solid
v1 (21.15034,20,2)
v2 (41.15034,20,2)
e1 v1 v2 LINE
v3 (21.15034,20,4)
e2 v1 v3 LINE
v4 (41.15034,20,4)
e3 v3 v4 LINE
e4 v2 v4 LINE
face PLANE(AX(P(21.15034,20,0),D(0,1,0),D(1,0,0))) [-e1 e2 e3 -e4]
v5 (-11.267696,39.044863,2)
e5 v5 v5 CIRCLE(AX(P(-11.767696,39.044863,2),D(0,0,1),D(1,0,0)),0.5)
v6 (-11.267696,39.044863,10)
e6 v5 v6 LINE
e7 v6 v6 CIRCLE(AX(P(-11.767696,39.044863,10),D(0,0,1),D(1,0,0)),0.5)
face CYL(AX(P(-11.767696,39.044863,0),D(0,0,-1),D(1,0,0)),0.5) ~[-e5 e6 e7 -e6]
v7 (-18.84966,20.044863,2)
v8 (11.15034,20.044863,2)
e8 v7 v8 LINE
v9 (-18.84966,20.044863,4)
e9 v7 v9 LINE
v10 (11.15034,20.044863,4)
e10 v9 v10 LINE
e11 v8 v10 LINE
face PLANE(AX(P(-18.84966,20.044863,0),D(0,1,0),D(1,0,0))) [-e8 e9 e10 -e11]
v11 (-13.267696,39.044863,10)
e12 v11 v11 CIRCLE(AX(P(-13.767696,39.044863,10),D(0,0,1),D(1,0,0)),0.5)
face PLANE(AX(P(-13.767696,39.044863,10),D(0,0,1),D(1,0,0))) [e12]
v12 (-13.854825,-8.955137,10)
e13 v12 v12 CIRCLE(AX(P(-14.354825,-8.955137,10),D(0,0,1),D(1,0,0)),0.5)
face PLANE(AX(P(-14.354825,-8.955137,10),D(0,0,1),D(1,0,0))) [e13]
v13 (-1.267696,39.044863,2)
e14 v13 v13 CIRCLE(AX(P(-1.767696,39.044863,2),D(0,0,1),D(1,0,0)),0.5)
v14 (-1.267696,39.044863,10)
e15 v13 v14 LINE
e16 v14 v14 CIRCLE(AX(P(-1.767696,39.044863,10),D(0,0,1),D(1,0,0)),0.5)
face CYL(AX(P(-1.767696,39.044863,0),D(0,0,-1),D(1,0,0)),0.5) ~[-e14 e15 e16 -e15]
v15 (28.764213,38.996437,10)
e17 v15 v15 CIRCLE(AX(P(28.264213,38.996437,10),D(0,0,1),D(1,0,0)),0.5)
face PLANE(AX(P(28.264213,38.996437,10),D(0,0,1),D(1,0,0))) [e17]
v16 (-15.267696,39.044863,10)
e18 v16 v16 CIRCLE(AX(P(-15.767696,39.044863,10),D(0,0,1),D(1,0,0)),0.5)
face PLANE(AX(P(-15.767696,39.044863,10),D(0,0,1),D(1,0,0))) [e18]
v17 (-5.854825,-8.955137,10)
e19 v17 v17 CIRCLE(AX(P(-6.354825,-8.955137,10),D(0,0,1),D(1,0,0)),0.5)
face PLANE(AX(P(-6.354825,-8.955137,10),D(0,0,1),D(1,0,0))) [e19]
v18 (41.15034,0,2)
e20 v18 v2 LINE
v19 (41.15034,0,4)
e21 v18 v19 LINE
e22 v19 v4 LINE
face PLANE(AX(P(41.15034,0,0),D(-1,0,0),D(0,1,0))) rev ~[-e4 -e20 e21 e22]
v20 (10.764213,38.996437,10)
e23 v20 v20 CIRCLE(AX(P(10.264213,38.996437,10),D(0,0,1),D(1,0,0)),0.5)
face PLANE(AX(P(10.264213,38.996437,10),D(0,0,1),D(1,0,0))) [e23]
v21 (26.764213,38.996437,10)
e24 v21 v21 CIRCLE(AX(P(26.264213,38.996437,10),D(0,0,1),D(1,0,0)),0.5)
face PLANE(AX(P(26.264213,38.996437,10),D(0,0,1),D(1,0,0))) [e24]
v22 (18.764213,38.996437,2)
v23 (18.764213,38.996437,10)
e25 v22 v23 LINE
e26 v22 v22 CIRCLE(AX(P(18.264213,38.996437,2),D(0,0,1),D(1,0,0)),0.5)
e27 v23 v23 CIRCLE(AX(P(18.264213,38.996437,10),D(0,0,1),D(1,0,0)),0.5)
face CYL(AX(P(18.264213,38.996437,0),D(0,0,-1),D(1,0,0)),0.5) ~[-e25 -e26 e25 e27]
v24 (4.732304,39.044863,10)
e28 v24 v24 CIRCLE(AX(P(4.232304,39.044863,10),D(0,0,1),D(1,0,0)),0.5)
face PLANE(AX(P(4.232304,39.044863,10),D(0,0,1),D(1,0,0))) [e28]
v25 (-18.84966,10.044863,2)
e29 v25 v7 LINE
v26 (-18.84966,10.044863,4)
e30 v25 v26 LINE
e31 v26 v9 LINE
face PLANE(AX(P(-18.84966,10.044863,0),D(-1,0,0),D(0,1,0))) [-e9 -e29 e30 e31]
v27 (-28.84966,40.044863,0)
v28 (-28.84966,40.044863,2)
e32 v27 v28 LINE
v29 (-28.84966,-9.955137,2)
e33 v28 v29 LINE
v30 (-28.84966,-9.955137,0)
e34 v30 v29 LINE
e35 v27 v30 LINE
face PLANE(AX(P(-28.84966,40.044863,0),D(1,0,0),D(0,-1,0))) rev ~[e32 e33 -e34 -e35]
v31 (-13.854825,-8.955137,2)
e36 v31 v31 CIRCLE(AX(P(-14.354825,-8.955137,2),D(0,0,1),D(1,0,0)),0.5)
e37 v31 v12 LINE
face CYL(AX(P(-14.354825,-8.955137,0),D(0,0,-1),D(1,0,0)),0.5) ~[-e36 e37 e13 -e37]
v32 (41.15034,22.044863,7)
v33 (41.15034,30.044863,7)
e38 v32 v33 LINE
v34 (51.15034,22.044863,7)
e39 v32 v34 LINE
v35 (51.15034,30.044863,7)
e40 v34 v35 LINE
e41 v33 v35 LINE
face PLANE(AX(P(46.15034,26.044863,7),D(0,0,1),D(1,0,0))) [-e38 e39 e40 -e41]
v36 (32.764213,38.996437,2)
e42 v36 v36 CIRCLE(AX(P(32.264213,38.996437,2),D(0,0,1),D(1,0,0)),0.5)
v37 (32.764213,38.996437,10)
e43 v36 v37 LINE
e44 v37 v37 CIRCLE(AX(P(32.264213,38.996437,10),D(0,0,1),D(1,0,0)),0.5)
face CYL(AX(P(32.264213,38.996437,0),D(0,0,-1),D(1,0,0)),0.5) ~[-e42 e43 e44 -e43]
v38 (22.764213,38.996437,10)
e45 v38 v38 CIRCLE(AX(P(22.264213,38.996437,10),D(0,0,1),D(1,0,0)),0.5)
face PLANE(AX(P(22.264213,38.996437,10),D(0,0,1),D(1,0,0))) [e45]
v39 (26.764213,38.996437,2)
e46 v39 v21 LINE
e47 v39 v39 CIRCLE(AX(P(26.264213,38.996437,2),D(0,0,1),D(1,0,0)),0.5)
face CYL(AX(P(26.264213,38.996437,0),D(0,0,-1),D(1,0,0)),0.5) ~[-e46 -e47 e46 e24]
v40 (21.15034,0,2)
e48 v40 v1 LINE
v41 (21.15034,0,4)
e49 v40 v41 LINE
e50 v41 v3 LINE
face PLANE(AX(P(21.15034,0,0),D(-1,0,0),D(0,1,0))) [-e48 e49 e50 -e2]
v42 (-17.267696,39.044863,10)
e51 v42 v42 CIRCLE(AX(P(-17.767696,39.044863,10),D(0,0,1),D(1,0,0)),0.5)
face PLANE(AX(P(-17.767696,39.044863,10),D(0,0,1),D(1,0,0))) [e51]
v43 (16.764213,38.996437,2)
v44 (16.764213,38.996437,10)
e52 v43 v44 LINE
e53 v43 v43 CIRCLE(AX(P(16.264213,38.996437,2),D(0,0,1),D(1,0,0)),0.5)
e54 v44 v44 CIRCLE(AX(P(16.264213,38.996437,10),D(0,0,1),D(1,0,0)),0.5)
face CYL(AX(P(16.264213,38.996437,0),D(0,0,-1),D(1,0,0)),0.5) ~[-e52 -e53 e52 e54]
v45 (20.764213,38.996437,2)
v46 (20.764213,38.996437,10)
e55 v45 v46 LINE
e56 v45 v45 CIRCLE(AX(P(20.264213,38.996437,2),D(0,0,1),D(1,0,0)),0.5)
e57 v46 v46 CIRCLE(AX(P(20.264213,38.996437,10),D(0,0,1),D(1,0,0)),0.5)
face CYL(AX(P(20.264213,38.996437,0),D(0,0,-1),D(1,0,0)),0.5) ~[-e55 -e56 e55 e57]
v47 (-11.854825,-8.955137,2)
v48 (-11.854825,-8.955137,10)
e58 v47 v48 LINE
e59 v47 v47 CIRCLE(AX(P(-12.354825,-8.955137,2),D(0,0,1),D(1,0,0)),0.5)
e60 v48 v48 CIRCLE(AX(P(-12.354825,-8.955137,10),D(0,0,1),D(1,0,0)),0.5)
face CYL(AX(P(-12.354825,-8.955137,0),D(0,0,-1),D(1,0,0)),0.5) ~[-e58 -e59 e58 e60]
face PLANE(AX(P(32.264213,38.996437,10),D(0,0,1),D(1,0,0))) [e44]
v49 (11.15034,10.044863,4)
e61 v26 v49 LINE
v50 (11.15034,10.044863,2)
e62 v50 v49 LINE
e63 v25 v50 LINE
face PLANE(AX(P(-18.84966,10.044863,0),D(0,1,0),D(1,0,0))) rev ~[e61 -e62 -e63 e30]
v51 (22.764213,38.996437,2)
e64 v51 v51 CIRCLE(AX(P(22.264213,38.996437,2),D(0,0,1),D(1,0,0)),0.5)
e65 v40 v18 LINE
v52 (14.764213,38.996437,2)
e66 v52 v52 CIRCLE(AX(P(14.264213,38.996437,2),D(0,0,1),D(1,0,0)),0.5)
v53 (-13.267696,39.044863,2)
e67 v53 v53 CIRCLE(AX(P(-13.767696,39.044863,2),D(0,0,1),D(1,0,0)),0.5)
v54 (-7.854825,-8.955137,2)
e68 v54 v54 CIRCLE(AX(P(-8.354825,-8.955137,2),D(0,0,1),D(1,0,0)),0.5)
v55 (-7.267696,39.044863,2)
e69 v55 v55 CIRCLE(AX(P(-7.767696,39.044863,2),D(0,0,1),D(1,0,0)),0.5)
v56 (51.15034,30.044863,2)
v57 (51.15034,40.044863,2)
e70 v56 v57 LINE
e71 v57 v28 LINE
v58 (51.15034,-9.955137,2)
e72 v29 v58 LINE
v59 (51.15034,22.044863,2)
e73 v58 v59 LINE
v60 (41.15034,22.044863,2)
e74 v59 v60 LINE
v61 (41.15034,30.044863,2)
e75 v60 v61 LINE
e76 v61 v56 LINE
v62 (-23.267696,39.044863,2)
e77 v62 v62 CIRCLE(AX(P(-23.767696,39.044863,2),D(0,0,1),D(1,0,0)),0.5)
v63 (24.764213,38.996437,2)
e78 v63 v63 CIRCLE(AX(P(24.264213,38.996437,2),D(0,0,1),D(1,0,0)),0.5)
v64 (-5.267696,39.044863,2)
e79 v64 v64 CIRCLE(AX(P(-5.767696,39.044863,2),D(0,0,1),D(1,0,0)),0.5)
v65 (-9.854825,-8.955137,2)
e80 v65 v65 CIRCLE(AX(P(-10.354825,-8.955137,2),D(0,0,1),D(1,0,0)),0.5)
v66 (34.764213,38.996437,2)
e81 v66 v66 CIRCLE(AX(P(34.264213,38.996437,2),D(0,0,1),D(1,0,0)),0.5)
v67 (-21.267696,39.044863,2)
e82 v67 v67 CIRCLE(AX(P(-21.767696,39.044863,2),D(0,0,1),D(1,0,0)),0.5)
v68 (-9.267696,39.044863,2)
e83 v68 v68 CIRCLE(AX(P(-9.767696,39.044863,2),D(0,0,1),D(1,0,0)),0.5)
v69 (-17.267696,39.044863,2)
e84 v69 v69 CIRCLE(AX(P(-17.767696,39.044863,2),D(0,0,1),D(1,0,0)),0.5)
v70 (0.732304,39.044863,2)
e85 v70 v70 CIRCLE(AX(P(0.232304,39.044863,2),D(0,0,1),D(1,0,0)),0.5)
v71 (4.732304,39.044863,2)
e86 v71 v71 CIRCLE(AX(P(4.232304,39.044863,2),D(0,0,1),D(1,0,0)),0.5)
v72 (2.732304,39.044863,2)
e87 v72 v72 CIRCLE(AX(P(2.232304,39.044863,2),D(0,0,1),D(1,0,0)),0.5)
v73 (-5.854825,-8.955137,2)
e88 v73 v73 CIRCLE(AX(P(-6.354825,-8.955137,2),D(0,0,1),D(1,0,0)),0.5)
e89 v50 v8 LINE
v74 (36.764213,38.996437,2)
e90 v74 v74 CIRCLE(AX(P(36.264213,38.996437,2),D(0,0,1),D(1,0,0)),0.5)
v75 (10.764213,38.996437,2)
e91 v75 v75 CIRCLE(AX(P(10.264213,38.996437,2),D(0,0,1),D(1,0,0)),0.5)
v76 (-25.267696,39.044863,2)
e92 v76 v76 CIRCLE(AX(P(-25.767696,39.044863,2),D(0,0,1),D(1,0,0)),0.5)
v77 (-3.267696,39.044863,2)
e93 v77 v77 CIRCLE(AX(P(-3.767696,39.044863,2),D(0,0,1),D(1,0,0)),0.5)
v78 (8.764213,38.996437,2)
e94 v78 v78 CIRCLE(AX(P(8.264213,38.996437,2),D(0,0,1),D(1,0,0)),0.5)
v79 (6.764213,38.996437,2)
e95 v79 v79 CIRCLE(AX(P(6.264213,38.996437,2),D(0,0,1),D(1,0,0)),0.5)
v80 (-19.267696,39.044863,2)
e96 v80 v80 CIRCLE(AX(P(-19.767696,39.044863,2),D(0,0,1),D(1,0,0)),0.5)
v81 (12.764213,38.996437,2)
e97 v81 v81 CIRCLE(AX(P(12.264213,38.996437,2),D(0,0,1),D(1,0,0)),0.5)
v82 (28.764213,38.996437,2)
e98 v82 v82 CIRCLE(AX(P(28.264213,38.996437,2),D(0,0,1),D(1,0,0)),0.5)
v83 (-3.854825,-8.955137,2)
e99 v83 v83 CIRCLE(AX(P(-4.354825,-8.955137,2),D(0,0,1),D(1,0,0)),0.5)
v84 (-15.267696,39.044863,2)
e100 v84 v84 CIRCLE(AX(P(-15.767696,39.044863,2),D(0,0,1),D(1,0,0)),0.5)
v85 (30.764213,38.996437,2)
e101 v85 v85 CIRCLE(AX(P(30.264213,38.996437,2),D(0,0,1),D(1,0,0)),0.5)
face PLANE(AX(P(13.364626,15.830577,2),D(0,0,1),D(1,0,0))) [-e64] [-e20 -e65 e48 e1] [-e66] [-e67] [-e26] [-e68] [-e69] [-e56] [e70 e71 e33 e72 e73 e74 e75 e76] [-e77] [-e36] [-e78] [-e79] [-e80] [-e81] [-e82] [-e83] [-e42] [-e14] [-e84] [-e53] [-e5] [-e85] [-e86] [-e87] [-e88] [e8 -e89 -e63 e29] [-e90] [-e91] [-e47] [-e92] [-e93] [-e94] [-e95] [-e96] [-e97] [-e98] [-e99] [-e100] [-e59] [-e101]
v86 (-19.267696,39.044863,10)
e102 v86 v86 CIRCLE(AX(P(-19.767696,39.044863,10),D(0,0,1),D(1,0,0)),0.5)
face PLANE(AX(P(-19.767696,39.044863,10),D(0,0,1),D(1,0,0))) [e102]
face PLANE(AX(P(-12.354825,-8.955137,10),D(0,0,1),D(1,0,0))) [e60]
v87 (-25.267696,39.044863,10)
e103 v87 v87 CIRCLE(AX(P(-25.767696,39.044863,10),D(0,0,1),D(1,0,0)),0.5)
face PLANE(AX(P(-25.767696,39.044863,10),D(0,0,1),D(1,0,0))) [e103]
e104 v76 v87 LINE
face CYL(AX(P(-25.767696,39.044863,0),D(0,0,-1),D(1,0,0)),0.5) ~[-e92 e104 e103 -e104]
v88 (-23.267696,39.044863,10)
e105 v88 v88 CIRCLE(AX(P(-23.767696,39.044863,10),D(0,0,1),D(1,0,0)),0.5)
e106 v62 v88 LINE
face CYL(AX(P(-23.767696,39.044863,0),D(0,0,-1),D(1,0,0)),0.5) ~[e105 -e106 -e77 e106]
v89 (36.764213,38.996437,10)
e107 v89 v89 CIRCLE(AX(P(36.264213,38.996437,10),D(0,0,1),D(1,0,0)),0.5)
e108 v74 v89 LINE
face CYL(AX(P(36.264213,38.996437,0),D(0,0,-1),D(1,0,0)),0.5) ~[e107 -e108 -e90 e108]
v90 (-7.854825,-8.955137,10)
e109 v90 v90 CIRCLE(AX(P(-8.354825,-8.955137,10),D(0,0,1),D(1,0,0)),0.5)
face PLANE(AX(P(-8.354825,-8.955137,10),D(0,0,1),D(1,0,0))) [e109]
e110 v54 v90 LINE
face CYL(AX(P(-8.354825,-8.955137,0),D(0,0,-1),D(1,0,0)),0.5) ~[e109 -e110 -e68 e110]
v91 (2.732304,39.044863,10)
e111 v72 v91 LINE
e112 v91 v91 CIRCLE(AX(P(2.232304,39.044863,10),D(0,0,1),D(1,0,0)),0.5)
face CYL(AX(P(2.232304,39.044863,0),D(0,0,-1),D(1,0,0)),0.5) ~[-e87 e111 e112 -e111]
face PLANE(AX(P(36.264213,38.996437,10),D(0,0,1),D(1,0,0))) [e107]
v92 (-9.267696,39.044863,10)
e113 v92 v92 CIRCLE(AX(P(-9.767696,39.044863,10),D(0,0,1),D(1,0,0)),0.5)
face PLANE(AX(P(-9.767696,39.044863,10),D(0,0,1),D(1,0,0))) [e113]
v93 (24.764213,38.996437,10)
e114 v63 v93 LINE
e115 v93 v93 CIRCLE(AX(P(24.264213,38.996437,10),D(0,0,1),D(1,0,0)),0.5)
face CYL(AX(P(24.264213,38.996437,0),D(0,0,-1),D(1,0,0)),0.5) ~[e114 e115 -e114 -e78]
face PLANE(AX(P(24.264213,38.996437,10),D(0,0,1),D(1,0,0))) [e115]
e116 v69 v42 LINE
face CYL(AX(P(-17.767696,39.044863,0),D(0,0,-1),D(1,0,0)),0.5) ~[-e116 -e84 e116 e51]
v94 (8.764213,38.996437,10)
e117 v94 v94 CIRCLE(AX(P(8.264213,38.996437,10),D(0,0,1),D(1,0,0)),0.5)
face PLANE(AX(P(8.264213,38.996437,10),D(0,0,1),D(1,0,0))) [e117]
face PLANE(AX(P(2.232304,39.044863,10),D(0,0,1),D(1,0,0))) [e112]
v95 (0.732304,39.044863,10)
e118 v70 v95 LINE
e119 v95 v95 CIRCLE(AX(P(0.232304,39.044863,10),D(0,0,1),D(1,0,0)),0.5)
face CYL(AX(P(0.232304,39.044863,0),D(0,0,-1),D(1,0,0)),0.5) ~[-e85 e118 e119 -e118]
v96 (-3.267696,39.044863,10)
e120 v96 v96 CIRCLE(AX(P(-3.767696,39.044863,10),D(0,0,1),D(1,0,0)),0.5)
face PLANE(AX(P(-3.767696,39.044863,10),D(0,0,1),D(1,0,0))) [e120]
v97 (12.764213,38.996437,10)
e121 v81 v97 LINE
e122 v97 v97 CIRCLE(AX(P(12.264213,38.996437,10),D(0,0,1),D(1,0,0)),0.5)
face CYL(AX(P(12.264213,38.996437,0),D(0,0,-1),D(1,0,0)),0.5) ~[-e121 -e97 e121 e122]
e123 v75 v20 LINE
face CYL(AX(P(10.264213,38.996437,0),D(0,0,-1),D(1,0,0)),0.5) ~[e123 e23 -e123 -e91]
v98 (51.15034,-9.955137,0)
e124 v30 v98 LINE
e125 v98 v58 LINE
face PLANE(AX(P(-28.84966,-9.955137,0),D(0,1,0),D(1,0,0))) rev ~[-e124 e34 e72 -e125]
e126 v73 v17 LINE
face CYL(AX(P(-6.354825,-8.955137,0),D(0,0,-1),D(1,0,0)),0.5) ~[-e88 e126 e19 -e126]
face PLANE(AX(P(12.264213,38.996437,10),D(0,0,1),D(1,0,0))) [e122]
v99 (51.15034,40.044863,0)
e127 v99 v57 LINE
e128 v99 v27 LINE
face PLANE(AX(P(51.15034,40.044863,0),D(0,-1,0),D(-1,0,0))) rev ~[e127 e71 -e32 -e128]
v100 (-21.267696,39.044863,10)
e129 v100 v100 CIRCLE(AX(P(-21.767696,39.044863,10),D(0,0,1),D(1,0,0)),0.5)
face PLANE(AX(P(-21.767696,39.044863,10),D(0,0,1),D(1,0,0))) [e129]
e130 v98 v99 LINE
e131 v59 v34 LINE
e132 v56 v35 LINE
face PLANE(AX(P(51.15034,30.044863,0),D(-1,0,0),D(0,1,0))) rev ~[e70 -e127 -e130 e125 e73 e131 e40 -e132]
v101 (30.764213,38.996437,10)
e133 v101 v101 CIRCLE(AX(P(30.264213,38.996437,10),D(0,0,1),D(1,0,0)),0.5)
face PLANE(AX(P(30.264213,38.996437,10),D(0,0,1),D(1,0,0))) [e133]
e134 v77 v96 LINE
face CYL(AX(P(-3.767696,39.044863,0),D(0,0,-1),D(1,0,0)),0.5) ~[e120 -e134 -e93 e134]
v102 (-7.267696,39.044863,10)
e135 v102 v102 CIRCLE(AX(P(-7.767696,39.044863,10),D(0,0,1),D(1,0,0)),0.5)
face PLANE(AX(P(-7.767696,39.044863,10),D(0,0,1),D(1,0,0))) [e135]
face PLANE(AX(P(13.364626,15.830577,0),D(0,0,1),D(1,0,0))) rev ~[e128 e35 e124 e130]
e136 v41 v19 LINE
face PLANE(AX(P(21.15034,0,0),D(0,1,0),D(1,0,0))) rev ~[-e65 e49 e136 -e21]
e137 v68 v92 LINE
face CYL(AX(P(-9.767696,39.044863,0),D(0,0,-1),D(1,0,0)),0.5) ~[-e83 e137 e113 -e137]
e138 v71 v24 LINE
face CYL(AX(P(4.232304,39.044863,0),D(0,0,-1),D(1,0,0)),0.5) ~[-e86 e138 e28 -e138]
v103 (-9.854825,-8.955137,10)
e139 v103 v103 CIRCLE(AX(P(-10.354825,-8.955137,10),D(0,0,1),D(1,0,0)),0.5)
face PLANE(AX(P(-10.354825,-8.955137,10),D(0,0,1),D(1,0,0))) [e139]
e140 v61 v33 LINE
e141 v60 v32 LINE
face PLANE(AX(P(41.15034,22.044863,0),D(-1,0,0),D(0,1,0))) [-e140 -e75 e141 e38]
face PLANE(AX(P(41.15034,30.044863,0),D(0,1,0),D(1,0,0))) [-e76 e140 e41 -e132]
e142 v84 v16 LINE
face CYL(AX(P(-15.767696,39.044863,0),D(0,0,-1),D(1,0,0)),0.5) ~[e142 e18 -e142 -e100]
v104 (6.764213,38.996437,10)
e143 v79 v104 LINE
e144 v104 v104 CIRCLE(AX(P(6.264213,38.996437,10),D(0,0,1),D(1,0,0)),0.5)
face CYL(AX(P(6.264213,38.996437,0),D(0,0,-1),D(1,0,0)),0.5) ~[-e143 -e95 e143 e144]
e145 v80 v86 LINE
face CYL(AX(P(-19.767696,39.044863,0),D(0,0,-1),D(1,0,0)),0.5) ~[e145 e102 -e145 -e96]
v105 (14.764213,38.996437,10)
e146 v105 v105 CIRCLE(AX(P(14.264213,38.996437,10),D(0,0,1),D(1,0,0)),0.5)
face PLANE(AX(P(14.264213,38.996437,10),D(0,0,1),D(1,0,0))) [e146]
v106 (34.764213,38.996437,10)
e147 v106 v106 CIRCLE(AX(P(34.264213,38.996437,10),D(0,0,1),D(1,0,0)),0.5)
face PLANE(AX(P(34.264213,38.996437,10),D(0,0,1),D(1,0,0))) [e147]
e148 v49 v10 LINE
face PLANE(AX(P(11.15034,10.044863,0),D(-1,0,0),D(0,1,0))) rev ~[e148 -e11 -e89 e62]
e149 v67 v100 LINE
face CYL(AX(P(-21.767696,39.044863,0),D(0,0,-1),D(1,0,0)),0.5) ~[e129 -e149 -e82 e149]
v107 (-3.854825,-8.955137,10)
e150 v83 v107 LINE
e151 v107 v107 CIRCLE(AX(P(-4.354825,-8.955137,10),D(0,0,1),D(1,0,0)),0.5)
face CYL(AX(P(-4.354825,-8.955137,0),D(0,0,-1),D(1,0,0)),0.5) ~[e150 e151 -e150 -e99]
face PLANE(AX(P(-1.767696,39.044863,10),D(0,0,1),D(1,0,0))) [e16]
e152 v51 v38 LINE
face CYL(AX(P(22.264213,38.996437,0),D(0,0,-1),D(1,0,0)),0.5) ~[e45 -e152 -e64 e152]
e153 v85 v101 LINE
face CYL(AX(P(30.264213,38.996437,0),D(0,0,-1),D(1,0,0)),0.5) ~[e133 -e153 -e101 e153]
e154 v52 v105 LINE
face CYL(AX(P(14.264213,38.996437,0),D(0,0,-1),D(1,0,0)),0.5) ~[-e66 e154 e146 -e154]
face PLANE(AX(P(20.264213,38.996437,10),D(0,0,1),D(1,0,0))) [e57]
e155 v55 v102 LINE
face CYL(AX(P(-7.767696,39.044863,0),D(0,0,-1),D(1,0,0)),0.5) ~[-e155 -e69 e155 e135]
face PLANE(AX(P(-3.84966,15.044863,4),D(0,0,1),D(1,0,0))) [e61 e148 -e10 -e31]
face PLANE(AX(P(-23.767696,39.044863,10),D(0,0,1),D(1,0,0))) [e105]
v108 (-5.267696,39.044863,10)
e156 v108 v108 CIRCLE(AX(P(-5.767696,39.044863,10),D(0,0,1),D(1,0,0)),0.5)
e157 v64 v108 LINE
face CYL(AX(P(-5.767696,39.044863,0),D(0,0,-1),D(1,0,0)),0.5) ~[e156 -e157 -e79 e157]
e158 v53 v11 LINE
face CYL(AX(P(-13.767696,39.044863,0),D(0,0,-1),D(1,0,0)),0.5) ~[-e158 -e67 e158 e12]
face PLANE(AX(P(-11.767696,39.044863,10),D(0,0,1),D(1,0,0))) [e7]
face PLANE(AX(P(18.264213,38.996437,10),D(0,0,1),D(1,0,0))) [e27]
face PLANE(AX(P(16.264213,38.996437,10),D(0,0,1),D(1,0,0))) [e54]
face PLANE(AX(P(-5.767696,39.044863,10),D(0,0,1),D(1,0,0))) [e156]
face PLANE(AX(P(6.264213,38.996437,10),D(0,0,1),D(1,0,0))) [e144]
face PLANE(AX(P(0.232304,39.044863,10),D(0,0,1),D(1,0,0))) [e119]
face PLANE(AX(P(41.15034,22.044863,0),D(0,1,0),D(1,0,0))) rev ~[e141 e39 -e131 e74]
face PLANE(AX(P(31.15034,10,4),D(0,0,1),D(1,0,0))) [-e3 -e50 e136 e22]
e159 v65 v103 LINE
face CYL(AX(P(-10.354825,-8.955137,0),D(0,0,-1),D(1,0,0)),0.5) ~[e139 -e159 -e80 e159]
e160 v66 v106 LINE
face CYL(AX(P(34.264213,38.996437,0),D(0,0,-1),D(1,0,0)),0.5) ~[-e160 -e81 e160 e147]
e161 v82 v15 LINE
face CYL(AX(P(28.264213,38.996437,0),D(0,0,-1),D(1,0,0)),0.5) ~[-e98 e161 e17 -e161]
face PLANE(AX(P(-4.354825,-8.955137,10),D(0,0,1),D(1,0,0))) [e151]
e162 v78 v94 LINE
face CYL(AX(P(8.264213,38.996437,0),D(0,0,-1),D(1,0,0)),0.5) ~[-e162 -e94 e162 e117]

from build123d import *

# Parameters (mm, degrees)
SKETCH1_R           = 0.5
SKETCH1_W           = 30
SKETCH1_H           = 10
SKETCH1_W_2         = 20
SKETCH1_H_2         = 20
BOSS_EXTRUDE1_DEPTH = 2
SKETCH1_3_R         = 0.5
BOSS_EXTRUDE2_DEPTH = 10
SKETCH1_4_W         = 30
SKETCH1_4_H         = 10
SKETCH1_4_W_2       = 20
SKETCH1_4_H_2       = 20
BOSS_EXTRUDE3_DEPTH = 4
SKETCH1_5_W         = 10
SKETCH1_5_H         = 8
BOSS_EXTRUDE4_DEPTH = 7


with BuildPart() as part:
    # Sketch1 → Boss-Extrude1 (new body)
    with BuildSketch(Plane.XY):
        Polygon((51.15034045, 40.044862573), (-28.84965955, 40.044862573), (-28.84965955, -9.955137427), (51.15034045, -9.955137427), (51.15034045, 22.044862573), (41.15034045, 22.044862573), (41.15034045, 30.044862573), (51.15034045, 30.044862573), align=None)
        with Locations((-14.354824965, -8.955137427)):
            Circle(SKETCH1_R, mode=Mode.SUBTRACT)
        with Locations((-12.354824965, -8.955137427)):
            Circle(SKETCH1_R, mode=Mode.SUBTRACT)
        with Locations((-10.354824965, -8.955137427)):
            Circle(SKETCH1_R, mode=Mode.SUBTRACT)
        with Locations((-8.354824965, -8.955137427)):
            Circle(SKETCH1_R, mode=Mode.SUBTRACT)
        with Locations((-6.354824965, -8.955137427)):
            Circle(SKETCH1_R, mode=Mode.SUBTRACT)
        with Locations((-4.354824965, -8.955137427)):
            Circle(SKETCH1_R, mode=Mode.SUBTRACT)
        with Locations((-3.84965955, 15.044862573)):
            Rectangle(SKETCH1_W, SKETCH1_H, mode=Mode.SUBTRACT)
        with Locations((31.15034045, 10)):
            Rectangle(SKETCH1_W_2, SKETCH1_H_2, mode=Mode.SUBTRACT)
        with Locations((-25.767695538, 39.044862573)):
            Circle(SKETCH1_R, mode=Mode.SUBTRACT)
        with Locations((-23.767695538, 39.044862573)):
            Circle(SKETCH1_R, mode=Mode.SUBTRACT)
        with Locations((-21.767695538, 39.044862573)):
            Circle(SKETCH1_R, mode=Mode.SUBTRACT)
        with Locations((-19.767695538, 39.044862573)):
            Circle(SKETCH1_R, mode=Mode.SUBTRACT)
        with Locations((-17.767695538, 39.044862573)):
            Circle(SKETCH1_R, mode=Mode.SUBTRACT)
        with Locations((-15.767695538, 39.044862573)):
            Circle(SKETCH1_R, mode=Mode.SUBTRACT)
        with Locations((-13.767695538, 39.044862573)):
            Circle(SKETCH1_R, mode=Mode.SUBTRACT)
        with Locations((-11.767695538, 39.044862573)):
            Circle(SKETCH1_R, mode=Mode.SUBTRACT)
        with Locations((-9.767695538, 39.044862573)):
            Circle(SKETCH1_R, mode=Mode.SUBTRACT)
        with Locations((-7.767695538, 39.044862573)):
            Circle(SKETCH1_R, mode=Mode.SUBTRACT)
        with Locations((-5.767695538, 39.044862573)):
            Circle(SKETCH1_R, mode=Mode.SUBTRACT)
        with Locations((-3.767695538, 39.044862573)):
            Circle(SKETCH1_R, mode=Mode.SUBTRACT)
        with Locations((-1.767695538, 39.044862573)):
            Circle(SKETCH1_R, mode=Mode.SUBTRACT)
        with Locations((0.232304462, 39.044862573)):
            Circle(SKETCH1_R, mode=Mode.SUBTRACT)
        with Locations((2.232304462, 39.044862573)):
            Circle(SKETCH1_R, mode=Mode.SUBTRACT)
        with Locations((4.232304462, 39.044862573)):
            Circle(SKETCH1_R, mode=Mode.SUBTRACT)
        with Locations((6.264212791, 38.996436979)):
            Circle(SKETCH1_R, mode=Mode.SUBTRACT)
        with Locations((8.264212791, 38.996436979)):
            Circle(SKETCH1_R, mode=Mode.SUBTRACT)
        with Locations((10.264212791, 38.996436979)):
            Circle(SKETCH1_R, mode=Mode.SUBTRACT)
        with Locations((12.264212791, 38.996436979)):
            Circle(SKETCH1_R, mode=Mode.SUBTRACT)
        with Locations((14.264212791, 38.996436979)):
            Circle(SKETCH1_R, mode=Mode.SUBTRACT)
        with Locations((16.264212791, 38.996436979)):
            Circle(SKETCH1_R, mode=Mode.SUBTRACT)
        with Locations((18.264212791, 38.996436979)):
            Circle(SKETCH1_R, mode=Mode.SUBTRACT)
        with Locations((20.264212791, 38.996436979)):
            Circle(SKETCH1_R, mode=Mode.SUBTRACT)
        with Locations((22.264212791, 38.996436979)):
            Circle(SKETCH1_R, mode=Mode.SUBTRACT)
        with Locations((24.264212791, 38.996436979)):
            Circle(SKETCH1_R, mode=Mode.SUBTRACT)
        with Locations((26.264212791, 38.996436979)):
            Circle(SKETCH1_R, mode=Mode.SUBTRACT)
        with Locations((28.264212791, 38.996436979)):
            Circle(SKETCH1_R, mode=Mode.SUBTRACT)
        with Locations((30.264212791, 38.996436979)):
            Circle(SKETCH1_R, mode=Mode.SUBTRACT)
        with Locations((32.264212791, 38.996436979)):
            Circle(SKETCH1_R, mode=Mode.SUBTRACT)
        with Locations((34.264212791, 38.996436979)):
            Circle(SKETCH1_R, mode=Mode.SUBTRACT)
        with Locations((36.264212791, 38.996436979)):
            Circle(SKETCH1_R, mode=Mode.SUBTRACT)
    extrude(amount=BOSS_EXTRUDE1_DEPTH)

    # Sketch1<3> → Boss-Extrude2 (add)
    with BuildSketch(Plane.XY):
        with Locations((-25.767695538, 39.044862573)):
            Circle(SKETCH1_3_R)
        with Locations((-23.767695538, 39.044862573)):
            Circle(SKETCH1_3_R)
        with Locations((-19.767695538, 39.044862573)):
            Circle(SKETCH1_3_R)
        with Locations((-21.767695538, 39.044862573)):
            Circle(SKETCH1_3_R)
        with Locations((-17.767695538, 39.044862573)):
            Circle(SKETCH1_3_R)
        with Locations((-15.767695538, 39.044862573)):
            Circle(SKETCH1_3_R)
        with Locations((-13.767695538, 39.044862573)):
            Circle(SKETCH1_3_R)
        with Locations((-11.767695538, 39.044862573)):
            Circle(SKETCH1_3_R)
        with Locations((-14.354824965, -8.955137427)):
            Circle(SKETCH1_3_R)
        with Locations((-12.354824965, -8.955137427)):
            Circle(SKETCH1_3_R)
        with Locations((-10.354824965, -8.955137427)):
            Circle(SKETCH1_3_R)
        with Locations((-8.354824965, -8.955137427)):
            Circle(SKETCH1_3_R)
        with Locations((-6.354824965, -8.955137427)):
            Circle(SKETCH1_3_R)
        with Locations((-4.354824965, -8.955137427)):
            Circle(SKETCH1_3_R)
        with Locations((-9.767695538, 39.044862573)):
            Circle(SKETCH1_3_R)
        with Locations((-7.767695538, 39.044862573)):
            Circle(SKETCH1_3_R)
        with Locations((-5.767695538, 39.044862573)):
            Circle(SKETCH1_3_R)
        with Locations((-3.767695538, 39.044862573)):
            Circle(SKETCH1_3_R)
        with Locations((-1.767695538, 39.044862573)):
            Circle(SKETCH1_3_R)
        with Locations((2.232304462, 39.044862573)):
            Circle(SKETCH1_3_R)
        with Locations((0.232304462, 39.044862573)):
            Circle(SKETCH1_3_R)
        with Locations((4.232304462, 39.044862573)):
            Circle(SKETCH1_3_R)
        with Locations((6.264212791, 38.996436979)):
            Circle(SKETCH1_3_R)
        with Locations((8.264212791, 38.996436979)):
            Circle(SKETCH1_3_R)
        with Locations((10.264212791, 38.996436979)):
            Circle(SKETCH1_3_R)
        with Locations((12.264212791, 38.996436979)):
            Circle(SKETCH1_3_R)
        with Locations((14.264212791, 38.996436979)):
            Circle(SKETCH1_3_R)
        with Locations((16.264212791, 38.996436979)):
            Circle(SKETCH1_3_R)
        with Locations((18.264212791, 38.996436979)):
            Circle(SKETCH1_3_R)
        with Locations((20.264212791, 38.996436979)):
            Circle(SKETCH1_3_R)
        with Locations((22.264212791, 38.996436979)):
            Circle(SKETCH1_3_R)
        with Locations((24.264212791, 38.996436979)):
            Circle(SKETCH1_3_R)
        with Locations((26.264212791, 38.996436979)):
            Circle(SKETCH1_3_R)
        with Locations((28.264212791, 38.996436979)):
            Circle(SKETCH1_3_R)
        with Locations((30.264212791, 38.996436979)):
            Circle(SKETCH1_3_R)
        with Locations((32.264212791, 38.996436979)):
            Circle(SKETCH1_3_R)
        with Locations((36.264212791, 38.996436979)):
            Circle(SKETCH1_3_R)
        with Locations((34.264212791, 38.996436979)):
            Circle(SKETCH1_3_R)
    extrude(amount=BOSS_EXTRUDE2_DEPTH)

    # Sketch1<4> → Boss-Extrude3 (add)
    with BuildSketch(Plane.XY):
        with Locations((-3.84965955, 15.044862573)):
            Rectangle(SKETCH1_4_W, SKETCH1_4_H)
        with Locations((31.15034045, 10)):
            Rectangle(SKETCH1_4_W_2, SKETCH1_4_H_2)
    extrude(amount=BOSS_EXTRUDE3_DEPTH)

    # Sketch1<5> → Boss-Extrude4 (add)
    with BuildSketch(Plane.XY):
        with Locations((46.15034045, 26.044862573)):
            Rectangle(SKETCH1_5_W, SKETCH1_5_H)
    extrude(amount=BOSS_EXTRUDE4_DEPTH)


solid = part.part
